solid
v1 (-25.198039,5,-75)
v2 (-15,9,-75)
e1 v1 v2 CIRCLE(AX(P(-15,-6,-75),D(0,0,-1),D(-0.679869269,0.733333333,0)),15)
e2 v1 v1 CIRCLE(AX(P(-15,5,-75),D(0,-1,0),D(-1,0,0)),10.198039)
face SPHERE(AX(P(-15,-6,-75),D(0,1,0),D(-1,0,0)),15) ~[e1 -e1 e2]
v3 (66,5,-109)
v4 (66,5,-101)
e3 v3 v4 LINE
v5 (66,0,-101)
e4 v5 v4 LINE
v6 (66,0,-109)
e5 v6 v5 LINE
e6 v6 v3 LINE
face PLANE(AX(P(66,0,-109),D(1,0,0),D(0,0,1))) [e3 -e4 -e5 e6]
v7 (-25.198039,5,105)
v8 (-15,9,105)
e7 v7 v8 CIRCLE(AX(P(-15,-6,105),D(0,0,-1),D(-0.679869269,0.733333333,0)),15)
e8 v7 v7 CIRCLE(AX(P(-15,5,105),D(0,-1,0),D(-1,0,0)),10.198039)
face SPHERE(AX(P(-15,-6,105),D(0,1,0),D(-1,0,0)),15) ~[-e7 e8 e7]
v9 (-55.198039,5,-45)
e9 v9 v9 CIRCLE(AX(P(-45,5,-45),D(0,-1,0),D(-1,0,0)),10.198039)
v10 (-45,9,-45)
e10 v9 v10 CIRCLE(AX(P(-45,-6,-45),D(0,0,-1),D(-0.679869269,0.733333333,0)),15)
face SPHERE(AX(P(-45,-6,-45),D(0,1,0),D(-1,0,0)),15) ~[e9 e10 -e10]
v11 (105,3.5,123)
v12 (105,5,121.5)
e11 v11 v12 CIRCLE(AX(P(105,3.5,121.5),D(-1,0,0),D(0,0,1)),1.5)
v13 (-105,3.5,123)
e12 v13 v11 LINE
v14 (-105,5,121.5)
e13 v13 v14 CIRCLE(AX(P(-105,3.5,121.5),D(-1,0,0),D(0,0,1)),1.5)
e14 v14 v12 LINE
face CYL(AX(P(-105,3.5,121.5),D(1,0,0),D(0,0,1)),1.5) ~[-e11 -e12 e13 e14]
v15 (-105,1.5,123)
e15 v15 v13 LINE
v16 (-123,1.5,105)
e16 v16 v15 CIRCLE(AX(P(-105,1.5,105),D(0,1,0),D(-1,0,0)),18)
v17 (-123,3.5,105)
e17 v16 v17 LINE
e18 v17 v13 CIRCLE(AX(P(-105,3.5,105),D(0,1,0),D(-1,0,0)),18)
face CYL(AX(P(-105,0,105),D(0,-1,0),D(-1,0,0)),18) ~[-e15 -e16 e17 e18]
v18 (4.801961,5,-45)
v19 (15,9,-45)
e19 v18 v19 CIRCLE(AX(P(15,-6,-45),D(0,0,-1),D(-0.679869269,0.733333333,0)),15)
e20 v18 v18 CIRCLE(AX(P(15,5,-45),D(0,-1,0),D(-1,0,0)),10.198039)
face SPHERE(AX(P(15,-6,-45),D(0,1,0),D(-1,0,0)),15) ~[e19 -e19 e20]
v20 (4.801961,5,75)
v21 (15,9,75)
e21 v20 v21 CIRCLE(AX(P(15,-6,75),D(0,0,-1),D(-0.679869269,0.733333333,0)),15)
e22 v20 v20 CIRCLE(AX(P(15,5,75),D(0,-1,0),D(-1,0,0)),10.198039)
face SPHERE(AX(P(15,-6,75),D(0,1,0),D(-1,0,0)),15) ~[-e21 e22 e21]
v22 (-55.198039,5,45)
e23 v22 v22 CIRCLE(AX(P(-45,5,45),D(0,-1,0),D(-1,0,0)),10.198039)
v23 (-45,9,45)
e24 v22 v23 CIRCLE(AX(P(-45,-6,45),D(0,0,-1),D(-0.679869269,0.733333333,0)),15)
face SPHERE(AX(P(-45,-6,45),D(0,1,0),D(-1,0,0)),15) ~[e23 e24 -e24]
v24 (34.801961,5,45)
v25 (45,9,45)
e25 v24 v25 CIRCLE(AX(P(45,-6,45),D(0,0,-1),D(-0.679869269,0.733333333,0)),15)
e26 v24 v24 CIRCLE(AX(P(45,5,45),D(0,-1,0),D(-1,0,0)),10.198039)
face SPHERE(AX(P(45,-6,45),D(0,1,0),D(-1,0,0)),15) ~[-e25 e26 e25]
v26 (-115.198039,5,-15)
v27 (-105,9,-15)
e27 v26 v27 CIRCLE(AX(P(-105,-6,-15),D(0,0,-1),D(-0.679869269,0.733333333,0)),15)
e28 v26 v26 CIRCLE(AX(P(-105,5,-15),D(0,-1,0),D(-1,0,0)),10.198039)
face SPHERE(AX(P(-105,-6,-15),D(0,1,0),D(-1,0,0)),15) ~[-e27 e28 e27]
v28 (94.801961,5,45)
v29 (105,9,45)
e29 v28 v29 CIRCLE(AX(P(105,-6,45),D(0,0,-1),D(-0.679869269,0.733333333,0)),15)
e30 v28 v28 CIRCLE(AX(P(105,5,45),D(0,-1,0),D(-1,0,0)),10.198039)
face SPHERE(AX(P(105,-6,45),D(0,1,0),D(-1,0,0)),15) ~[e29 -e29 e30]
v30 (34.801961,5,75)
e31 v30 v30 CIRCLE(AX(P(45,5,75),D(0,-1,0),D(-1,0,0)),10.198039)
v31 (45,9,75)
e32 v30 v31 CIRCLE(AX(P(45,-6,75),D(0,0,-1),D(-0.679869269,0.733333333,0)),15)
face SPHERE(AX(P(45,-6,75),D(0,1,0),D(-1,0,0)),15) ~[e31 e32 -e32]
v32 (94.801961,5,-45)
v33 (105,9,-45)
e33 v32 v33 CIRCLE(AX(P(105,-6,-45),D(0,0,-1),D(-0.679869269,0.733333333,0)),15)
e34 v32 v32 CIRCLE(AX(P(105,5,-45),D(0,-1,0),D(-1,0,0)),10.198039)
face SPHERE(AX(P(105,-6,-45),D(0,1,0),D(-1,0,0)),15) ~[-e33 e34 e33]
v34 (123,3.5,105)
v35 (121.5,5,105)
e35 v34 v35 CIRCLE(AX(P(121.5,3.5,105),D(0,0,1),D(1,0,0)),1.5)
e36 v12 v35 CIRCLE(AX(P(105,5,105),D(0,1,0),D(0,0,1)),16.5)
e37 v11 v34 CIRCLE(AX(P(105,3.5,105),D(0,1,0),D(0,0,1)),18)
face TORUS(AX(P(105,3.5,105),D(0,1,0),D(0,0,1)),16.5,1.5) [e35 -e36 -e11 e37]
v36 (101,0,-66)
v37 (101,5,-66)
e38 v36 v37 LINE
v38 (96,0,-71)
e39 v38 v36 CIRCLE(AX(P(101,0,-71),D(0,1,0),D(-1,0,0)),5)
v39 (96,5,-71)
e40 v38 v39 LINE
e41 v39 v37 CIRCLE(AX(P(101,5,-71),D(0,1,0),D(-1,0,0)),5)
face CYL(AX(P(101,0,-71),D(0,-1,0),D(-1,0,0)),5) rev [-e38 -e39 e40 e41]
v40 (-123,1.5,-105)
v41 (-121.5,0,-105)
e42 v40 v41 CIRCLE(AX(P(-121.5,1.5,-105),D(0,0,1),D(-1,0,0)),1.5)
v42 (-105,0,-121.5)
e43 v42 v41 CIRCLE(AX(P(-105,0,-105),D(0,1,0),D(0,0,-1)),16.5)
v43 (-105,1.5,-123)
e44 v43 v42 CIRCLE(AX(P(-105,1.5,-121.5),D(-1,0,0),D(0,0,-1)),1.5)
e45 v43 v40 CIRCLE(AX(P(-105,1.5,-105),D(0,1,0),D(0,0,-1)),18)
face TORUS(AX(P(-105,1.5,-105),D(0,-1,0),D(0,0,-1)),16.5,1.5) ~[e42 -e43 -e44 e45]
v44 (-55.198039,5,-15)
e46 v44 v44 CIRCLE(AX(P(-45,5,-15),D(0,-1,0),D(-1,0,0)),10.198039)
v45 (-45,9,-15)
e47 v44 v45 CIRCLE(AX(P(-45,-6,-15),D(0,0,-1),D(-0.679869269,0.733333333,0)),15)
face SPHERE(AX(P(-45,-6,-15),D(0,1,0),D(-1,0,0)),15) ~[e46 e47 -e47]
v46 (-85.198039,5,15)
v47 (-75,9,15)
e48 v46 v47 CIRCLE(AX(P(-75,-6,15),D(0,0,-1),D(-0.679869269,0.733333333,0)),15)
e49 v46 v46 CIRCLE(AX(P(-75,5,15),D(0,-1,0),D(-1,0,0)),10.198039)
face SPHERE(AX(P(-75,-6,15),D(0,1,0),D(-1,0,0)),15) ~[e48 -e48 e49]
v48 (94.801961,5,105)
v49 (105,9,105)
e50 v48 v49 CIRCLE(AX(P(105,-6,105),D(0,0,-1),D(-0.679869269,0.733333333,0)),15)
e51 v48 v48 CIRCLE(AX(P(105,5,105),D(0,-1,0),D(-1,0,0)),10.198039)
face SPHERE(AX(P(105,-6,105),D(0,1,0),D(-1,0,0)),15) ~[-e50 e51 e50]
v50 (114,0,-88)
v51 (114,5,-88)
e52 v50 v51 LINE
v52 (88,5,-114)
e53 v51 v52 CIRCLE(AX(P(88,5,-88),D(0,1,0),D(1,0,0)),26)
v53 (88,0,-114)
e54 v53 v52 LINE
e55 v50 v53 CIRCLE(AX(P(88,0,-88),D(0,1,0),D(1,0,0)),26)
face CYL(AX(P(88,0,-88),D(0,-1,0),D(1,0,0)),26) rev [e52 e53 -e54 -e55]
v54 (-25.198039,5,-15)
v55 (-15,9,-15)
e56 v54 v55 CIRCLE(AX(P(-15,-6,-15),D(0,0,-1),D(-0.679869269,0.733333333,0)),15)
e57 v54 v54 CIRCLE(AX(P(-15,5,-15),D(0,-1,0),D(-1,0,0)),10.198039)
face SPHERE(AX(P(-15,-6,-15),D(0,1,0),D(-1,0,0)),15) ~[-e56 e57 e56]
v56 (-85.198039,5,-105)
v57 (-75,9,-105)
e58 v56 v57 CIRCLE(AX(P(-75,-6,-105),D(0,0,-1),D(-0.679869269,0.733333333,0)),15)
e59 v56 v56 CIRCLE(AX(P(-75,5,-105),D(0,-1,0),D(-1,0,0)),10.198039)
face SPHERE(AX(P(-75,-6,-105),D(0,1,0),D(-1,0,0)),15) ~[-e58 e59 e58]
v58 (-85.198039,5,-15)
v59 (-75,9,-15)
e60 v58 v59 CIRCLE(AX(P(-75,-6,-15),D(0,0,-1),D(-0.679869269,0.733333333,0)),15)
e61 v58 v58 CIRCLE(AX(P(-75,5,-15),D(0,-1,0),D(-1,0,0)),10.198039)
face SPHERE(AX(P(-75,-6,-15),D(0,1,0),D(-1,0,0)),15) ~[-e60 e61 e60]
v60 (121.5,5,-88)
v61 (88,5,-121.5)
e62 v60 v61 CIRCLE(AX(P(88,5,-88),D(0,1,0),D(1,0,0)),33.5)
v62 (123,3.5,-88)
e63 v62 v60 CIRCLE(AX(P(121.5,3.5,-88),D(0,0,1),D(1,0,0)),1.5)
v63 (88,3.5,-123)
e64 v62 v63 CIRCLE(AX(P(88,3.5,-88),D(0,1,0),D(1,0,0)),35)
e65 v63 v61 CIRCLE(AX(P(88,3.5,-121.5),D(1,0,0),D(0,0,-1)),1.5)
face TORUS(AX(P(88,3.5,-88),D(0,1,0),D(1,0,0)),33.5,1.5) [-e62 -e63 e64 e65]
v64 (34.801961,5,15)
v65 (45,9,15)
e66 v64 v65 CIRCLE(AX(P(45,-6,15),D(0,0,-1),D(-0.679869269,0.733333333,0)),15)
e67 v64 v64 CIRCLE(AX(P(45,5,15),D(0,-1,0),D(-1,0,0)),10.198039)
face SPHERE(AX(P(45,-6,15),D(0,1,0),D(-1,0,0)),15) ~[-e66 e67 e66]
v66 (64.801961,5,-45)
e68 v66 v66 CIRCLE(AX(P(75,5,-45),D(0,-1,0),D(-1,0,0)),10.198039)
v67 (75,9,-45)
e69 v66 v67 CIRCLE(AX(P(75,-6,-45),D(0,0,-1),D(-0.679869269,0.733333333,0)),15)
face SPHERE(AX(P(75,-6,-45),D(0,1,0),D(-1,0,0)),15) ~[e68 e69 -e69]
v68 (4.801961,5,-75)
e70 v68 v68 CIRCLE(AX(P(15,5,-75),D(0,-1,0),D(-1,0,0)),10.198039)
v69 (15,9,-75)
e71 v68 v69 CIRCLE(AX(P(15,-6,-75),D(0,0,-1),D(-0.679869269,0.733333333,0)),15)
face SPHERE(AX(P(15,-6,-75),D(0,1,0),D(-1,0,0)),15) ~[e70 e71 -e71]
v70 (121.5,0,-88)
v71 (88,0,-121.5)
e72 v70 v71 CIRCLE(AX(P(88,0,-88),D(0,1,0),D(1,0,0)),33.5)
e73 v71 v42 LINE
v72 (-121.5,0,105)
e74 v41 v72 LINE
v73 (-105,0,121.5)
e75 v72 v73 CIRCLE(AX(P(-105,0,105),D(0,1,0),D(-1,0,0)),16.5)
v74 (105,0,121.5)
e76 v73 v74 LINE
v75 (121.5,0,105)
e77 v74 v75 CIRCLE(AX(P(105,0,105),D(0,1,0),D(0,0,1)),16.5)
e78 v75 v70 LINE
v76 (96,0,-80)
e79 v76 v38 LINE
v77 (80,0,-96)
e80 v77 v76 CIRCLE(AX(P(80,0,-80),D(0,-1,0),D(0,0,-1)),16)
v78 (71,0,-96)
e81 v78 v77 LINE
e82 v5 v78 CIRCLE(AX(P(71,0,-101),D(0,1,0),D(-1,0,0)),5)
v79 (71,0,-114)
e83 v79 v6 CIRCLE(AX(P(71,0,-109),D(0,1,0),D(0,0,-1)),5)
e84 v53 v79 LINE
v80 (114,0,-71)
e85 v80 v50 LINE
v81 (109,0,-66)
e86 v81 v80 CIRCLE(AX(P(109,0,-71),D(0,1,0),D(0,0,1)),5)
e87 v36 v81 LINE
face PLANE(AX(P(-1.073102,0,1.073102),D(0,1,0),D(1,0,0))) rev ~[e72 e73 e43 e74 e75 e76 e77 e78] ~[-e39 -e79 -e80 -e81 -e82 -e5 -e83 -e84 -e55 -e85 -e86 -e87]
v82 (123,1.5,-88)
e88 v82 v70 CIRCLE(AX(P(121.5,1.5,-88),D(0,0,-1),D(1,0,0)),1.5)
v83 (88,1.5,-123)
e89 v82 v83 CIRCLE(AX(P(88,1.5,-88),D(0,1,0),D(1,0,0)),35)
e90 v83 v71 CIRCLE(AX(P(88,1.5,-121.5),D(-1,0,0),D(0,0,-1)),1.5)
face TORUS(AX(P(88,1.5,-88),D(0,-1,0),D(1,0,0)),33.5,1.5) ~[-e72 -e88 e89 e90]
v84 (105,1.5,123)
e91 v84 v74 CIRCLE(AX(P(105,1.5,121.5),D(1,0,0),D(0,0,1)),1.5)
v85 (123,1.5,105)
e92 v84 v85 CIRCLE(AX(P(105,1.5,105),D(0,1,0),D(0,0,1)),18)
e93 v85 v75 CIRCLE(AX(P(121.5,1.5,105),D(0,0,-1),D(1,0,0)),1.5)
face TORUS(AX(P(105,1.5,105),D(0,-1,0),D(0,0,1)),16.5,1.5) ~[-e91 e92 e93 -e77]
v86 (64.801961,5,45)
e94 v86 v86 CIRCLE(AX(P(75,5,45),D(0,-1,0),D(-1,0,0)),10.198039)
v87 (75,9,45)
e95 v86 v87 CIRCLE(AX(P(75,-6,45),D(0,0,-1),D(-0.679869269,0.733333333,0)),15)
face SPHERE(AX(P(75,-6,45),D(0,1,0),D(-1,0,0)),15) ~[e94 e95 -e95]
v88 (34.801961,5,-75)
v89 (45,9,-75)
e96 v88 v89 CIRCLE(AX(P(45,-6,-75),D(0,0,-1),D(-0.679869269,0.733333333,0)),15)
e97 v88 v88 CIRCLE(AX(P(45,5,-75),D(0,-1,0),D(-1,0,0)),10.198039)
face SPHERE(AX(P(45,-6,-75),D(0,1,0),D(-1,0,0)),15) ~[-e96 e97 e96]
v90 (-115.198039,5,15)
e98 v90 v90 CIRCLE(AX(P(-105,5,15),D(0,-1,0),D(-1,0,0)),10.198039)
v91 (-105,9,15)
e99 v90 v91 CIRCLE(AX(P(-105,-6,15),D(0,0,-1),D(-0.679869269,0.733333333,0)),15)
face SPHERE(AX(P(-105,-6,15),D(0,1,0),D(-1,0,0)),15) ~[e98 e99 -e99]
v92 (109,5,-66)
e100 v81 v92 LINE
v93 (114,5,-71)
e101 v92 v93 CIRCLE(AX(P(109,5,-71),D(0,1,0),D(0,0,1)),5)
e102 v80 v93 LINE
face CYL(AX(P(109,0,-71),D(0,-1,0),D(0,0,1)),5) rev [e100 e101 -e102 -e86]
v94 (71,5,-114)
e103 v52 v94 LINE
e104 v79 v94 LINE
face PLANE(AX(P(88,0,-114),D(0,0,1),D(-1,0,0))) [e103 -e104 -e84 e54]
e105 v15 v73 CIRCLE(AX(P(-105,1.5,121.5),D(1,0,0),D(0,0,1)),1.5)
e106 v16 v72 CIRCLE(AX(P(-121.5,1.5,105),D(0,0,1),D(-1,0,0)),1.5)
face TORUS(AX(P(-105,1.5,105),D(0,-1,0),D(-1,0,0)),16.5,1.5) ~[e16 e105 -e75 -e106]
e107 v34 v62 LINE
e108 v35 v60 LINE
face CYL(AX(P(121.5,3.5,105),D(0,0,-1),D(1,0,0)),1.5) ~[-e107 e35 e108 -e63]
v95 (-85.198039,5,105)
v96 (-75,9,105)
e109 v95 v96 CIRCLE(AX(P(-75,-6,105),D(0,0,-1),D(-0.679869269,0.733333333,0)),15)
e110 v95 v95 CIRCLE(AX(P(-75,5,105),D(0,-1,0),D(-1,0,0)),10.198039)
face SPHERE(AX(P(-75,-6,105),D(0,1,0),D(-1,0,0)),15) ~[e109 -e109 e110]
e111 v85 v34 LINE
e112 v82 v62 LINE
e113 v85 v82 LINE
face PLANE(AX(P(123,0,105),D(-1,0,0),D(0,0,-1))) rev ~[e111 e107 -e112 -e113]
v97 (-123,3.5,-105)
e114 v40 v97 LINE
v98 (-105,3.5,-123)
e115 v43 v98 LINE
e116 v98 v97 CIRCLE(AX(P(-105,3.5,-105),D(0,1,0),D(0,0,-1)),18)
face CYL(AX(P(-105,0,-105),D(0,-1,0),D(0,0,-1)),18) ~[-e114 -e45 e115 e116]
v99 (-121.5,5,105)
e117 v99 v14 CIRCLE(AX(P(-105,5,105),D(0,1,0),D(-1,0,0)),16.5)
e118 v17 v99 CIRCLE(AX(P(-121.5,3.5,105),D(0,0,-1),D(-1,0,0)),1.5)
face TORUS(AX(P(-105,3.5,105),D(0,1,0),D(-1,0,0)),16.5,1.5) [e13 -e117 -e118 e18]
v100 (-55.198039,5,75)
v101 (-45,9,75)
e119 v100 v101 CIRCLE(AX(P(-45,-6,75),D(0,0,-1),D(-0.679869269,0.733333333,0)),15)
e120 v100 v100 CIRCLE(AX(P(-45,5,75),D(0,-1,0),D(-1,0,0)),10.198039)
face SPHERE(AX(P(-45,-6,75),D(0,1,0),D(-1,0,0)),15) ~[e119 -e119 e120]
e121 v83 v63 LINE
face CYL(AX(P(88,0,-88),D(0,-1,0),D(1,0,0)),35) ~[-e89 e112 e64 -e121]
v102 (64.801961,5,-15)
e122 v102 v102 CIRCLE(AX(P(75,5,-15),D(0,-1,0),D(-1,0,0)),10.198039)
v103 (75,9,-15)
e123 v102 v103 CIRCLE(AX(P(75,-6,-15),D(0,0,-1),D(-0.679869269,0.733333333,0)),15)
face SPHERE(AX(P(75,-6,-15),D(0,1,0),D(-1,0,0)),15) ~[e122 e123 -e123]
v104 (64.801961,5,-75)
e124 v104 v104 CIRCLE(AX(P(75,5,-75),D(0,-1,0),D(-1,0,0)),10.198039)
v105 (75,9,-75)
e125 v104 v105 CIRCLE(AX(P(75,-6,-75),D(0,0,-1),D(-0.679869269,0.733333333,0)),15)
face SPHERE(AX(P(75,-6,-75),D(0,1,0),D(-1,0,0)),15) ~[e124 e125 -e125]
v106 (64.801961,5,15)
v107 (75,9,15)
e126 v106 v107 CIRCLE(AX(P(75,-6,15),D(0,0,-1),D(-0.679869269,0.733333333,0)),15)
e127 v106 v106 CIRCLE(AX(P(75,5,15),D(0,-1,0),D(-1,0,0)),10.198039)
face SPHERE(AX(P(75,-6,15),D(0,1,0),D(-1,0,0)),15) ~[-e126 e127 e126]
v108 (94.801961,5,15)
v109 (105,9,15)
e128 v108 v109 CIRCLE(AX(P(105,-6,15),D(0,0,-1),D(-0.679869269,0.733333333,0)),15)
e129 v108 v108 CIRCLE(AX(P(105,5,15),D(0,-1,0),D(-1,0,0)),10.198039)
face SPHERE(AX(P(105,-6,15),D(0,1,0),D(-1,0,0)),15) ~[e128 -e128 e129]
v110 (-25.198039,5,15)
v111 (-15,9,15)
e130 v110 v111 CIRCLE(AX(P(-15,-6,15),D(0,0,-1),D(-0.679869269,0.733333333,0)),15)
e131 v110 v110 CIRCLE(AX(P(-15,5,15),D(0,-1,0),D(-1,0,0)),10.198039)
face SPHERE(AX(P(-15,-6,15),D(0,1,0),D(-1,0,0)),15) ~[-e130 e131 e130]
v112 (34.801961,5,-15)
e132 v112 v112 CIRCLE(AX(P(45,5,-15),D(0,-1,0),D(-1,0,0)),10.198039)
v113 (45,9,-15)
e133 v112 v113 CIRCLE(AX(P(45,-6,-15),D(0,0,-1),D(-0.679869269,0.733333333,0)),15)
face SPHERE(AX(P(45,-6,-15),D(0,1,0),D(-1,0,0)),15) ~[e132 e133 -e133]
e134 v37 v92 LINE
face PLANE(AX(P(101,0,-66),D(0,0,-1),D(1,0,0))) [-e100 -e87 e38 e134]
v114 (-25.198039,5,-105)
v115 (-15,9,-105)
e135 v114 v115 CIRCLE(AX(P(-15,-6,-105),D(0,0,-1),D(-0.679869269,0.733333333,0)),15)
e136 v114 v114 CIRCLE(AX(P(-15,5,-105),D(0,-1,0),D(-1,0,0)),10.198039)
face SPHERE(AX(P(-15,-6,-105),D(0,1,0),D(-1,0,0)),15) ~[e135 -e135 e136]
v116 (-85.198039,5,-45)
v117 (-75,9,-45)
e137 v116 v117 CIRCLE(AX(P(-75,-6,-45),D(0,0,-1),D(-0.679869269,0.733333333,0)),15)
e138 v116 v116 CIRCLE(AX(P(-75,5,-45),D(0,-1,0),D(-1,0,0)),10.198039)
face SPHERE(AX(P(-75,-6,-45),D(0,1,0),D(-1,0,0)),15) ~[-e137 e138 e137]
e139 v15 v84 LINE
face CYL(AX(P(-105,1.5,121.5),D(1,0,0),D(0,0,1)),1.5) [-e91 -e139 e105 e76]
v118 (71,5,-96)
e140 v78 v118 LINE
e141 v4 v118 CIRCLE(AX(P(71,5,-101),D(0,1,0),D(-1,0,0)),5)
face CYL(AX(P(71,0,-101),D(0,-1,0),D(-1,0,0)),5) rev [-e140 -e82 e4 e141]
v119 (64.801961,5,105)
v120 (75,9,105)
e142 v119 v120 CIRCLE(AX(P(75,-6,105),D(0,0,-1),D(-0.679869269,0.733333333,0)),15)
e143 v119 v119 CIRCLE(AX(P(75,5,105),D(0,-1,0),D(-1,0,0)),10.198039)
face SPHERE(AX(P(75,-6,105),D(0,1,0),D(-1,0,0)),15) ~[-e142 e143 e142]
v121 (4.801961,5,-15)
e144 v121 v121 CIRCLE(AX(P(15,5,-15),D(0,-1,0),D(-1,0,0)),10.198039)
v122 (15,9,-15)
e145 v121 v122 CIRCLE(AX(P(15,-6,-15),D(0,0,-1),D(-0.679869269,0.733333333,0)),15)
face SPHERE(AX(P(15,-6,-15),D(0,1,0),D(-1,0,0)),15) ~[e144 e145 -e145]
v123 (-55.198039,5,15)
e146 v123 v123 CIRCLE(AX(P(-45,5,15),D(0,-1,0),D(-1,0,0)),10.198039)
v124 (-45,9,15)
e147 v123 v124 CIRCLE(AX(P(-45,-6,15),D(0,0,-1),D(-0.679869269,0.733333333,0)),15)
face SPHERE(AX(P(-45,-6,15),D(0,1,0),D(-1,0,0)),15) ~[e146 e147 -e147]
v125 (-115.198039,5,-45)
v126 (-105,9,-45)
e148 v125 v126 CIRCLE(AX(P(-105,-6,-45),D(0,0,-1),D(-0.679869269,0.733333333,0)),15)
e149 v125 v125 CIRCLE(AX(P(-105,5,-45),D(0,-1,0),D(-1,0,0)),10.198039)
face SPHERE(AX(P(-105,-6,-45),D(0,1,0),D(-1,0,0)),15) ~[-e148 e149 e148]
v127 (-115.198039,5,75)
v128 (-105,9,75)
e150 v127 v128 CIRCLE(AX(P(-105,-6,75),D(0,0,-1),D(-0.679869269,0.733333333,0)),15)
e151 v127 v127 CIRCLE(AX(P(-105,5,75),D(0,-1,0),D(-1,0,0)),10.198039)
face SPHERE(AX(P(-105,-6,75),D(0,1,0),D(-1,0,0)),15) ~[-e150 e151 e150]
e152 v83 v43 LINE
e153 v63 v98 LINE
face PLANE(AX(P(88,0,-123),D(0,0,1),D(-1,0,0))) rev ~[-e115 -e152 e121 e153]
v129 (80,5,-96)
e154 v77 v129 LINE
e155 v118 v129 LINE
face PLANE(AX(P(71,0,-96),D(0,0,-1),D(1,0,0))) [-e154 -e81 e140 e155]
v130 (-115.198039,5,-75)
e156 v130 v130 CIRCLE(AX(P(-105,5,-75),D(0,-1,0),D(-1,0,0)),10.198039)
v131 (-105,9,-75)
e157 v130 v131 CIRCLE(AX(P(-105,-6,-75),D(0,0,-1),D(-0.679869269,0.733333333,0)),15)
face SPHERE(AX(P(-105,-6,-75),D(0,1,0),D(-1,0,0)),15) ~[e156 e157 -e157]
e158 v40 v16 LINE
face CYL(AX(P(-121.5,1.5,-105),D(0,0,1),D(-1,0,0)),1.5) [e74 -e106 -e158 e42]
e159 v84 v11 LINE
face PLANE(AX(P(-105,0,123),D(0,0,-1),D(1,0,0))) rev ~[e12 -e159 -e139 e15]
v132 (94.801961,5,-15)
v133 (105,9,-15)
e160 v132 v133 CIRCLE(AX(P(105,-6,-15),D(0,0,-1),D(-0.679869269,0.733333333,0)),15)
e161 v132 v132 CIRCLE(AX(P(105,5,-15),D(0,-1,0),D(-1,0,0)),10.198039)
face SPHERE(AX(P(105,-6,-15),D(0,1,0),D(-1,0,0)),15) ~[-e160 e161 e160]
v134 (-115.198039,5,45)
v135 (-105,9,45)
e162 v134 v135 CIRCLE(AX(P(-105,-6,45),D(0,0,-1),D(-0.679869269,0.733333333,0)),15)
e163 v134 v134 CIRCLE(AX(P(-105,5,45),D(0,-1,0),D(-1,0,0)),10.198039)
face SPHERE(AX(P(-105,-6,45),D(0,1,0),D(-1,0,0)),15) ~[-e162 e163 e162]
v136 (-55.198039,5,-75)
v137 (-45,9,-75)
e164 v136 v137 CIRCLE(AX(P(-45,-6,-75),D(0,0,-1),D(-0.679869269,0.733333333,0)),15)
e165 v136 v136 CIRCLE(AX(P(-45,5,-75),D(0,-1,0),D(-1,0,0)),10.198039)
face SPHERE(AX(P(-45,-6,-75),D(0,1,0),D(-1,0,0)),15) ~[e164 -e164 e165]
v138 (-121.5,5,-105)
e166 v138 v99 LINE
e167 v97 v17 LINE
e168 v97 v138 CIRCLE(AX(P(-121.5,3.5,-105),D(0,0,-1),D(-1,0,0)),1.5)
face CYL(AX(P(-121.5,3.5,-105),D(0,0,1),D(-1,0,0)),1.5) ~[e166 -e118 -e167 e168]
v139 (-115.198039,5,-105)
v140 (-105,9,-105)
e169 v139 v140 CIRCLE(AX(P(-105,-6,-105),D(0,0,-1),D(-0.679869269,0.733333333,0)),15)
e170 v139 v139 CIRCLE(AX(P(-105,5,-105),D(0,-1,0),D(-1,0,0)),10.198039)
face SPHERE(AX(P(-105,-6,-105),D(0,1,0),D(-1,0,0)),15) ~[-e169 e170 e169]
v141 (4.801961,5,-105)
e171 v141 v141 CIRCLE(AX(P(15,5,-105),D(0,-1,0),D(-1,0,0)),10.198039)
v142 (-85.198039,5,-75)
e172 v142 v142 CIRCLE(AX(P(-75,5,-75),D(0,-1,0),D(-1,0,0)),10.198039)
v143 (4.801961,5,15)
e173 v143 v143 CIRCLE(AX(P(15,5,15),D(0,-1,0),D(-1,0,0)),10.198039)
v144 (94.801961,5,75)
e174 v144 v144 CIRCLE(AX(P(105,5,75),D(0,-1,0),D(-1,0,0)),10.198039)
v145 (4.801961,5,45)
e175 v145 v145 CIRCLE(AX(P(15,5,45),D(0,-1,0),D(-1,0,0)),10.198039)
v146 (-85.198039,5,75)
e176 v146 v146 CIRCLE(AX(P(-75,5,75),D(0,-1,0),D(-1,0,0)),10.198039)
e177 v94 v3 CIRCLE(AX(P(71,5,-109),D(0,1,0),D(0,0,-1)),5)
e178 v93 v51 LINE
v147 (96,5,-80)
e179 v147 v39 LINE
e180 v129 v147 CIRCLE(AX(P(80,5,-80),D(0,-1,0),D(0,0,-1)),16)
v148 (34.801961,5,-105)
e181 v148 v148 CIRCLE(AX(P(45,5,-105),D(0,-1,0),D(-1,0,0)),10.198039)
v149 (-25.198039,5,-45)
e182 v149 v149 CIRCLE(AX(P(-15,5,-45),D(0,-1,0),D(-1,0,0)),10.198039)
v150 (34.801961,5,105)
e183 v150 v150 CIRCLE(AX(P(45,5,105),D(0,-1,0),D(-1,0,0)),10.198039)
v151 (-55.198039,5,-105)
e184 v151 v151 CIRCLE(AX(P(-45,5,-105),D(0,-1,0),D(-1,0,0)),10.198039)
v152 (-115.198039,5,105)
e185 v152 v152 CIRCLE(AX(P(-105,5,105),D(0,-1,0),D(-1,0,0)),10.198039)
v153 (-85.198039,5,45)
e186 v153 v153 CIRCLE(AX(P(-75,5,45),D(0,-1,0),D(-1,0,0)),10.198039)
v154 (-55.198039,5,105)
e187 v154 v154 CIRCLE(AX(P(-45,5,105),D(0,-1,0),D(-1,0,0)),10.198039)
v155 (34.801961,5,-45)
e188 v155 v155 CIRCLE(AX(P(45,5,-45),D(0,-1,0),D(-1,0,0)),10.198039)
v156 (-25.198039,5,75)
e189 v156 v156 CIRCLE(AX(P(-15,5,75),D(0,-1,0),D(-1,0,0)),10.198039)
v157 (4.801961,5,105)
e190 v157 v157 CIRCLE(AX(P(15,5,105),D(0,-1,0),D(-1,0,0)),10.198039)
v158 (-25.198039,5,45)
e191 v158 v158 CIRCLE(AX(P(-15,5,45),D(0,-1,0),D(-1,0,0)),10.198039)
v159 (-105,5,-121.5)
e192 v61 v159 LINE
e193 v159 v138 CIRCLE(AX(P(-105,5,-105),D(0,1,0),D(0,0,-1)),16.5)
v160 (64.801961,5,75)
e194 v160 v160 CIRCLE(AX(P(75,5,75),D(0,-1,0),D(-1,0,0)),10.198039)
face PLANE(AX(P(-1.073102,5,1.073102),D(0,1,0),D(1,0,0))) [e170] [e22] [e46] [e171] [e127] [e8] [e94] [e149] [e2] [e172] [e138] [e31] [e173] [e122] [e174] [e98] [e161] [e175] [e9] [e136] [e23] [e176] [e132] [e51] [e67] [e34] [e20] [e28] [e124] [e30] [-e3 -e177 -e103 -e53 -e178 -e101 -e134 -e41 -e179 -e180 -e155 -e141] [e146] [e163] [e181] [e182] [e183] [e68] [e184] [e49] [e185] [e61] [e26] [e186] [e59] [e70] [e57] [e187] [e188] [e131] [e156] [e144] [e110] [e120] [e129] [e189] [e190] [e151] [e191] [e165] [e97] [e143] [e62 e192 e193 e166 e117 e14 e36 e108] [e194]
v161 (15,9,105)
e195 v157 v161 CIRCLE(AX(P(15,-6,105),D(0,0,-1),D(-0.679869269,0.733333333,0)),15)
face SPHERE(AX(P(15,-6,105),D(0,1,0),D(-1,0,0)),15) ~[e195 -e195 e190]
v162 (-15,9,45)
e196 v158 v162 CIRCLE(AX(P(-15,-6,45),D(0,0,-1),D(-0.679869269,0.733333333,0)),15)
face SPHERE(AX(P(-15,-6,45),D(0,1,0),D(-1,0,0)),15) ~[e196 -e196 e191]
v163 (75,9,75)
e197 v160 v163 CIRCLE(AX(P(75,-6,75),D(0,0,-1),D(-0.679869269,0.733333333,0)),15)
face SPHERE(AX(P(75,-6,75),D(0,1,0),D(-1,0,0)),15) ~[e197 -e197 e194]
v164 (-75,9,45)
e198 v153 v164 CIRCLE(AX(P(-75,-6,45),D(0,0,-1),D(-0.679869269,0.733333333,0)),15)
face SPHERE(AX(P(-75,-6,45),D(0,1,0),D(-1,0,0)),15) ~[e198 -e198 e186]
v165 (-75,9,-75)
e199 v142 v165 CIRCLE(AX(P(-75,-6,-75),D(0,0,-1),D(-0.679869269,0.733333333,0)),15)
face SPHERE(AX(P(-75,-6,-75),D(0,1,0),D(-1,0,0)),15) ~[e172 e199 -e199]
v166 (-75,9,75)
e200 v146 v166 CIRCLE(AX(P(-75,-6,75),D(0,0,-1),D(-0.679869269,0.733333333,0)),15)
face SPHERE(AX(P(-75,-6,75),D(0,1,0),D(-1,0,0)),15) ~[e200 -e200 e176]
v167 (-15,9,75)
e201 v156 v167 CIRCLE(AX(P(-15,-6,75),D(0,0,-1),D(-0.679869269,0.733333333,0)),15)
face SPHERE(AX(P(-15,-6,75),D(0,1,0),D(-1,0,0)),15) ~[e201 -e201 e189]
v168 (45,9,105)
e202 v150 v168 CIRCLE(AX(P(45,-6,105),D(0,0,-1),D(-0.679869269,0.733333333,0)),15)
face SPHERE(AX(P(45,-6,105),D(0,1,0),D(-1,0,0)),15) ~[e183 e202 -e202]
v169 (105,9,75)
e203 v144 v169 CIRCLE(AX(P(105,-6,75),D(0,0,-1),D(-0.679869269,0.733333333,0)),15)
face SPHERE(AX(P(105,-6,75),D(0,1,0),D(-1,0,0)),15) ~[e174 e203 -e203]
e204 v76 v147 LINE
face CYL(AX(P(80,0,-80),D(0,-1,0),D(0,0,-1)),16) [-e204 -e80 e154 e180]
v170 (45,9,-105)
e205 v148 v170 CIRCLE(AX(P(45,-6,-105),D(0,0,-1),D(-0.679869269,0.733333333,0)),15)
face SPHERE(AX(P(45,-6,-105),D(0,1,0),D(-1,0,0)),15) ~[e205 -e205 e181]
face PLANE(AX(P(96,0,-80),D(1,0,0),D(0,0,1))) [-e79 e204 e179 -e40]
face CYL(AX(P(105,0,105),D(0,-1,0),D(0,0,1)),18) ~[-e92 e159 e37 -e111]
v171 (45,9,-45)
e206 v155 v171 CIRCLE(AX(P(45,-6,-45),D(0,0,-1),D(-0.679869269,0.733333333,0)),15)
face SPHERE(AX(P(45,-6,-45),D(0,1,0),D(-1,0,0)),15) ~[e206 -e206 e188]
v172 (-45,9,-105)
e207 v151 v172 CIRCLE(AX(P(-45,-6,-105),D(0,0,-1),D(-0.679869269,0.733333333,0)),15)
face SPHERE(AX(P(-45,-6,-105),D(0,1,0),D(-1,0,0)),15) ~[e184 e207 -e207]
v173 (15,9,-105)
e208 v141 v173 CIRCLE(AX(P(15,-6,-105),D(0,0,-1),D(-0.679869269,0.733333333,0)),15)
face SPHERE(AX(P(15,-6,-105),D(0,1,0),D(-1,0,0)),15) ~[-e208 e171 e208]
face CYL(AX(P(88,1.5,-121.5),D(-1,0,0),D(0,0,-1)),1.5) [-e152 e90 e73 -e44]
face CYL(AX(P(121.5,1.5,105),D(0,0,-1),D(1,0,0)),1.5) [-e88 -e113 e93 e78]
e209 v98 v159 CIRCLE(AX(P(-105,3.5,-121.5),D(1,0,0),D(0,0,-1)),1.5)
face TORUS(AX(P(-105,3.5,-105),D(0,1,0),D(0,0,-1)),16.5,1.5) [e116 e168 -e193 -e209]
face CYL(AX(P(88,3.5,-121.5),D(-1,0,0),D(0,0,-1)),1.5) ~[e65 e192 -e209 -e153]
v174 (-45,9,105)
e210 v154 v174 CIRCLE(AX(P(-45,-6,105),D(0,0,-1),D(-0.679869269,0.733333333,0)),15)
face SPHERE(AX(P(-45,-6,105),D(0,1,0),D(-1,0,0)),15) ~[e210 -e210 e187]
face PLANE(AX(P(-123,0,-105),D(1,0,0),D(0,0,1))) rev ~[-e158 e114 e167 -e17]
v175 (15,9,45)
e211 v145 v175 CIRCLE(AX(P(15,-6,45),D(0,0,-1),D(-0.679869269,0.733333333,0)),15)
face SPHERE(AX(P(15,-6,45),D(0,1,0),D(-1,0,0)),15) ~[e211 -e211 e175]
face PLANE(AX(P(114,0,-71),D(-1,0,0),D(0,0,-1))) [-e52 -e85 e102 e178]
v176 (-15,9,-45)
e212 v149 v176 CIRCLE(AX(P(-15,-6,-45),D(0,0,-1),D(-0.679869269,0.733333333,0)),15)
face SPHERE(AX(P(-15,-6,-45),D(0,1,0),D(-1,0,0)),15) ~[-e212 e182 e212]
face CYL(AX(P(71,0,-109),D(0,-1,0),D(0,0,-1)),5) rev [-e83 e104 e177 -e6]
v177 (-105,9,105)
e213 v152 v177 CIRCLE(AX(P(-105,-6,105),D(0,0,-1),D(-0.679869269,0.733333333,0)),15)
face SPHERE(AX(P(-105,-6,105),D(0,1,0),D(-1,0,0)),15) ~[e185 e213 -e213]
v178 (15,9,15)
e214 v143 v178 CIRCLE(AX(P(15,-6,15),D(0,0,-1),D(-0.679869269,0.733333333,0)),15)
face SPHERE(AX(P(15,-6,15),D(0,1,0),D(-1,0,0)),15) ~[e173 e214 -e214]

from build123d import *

# Parameters (mm, degrees)
BOSS_EXTRUDE1_DEPTH  = 5
FILLET1_R            = 1.5
LPATTERN1_COUNT      = 8
LPATTERN1_PITCH      = 30
LPATTERN1_COUNT_DIR2 = 8
LPATTERN1_PITCH_DIR2 = 30


with BuildPart() as part:
    # Sketch1 → Boss-Extrude1 (new body)
    with BuildSketch(Plane(origin=(0, 0, 0), x_dir=(1, 0, 0), z_dir=(0, 1, 0))):
        with BuildLine():
            Line((-105, -123), (105, -123))
            ThreePointArc((105, -123), (117.727922061, -117.727922061), (123, -105))
            Line((123, -105), (123, 88))
            ThreePointArc((123, 88), (112.748737342, 112.748737342), (88, 123))
            Line((88, 123), (-105, 123))
            ThreePointArc((-105, 123), (-117.727922061, 117.727922061), (-123, 105))
            Line((-123, 105), (-123, -105))
            ThreePointArc((-123, -105), (-117.727922061, -117.727922061), (-105, -123))
        make_face()
        with BuildLine():
            Line((88, 114), (71, 114))
            ThreePointArc((71, 114), (67.464466094, 112.535533906), (66, 109))
            Line((66, 109), (66, 101))
            ThreePointArc((66, 101), (67.464466094, 97.464466094), (71, 96))
            Line((71, 96), (80, 96))
            ThreePointArc((80, 96), (91.313708499, 91.313708499), (96, 80))
            Line((96, 80), (96, 71))
            ThreePointArc((96, 71), (97.464466094, 67.464466094), (101, 66))
            Line((101, 66), (109, 66))
            ThreePointArc((109, 66), (112.535533906, 67.464466094), (114, 71))
            Line((114, 71), (114, 88))
            ThreePointArc((114, 88), (106.384776311, 106.384776311), (88, 114))
        make_face(mode=Mode.SUBTRACT)
    extrude(amount=BOSS_EXTRUDE1_DEPTH)

    # Fillet1
    fillet1_edges = [part.edges().sort_by_distance(p)[0] for p in [
        (-8.5, 0, -123),
        (112.748737342, 0, -112.748737342),
        (123, 0, 8.5),
        (117.727922061, 0, 117.727922061),
        (112.748737342, 5, -112.748737342),
        (-8.5, 5, -123),
        (-117.727922061, 5, -117.727922061),
        (-123, 5, 0),
        (-117.727922061, 5, 117.727922061),
        (0, 5, 123),
        (117.727922061, 5, 117.727922061),
        (0, 0, 123),
        (123, 5, 8.5),
        (-117.727922061, 0, 117.727922061),
        (-123, 0, 0),
        (-117.727922061, 0, -117.727922061),
    ]]
    fillet(fillet1_edges, radius=FILLET1_R)

    # Sketch4 → Revolve1 (revolve)
    with BuildSketch(Plane.XY.offset(105)):
        with BuildLine():
            Line((-105, 9), (-105, 5))
            Line((-105, 5), (-115.198039027, 5))
            ThreePointArc((-115.198039027, 5), (-110.477225575, 7.964240044), (-105, 9))
        make_face()
    revolve1 = revolve(axis=Axis((-105, 9, 105), (0, -1, 0)))

    # LPattern1: Revolve1 8 × 8, 3 skipped
    with Locations(*[(i * LPATTERN1_PITCH, 0, -j * LPATTERN1_PITCH_DIR2) for i in range(LPATTERN1_COUNT) for j in range(LPATTERN1_COUNT_DIR2) if (i, j) not in ((0, 0), (6, 7), (7, 6), (7, 7))]):
        add(revolve1)


solid = part.part
